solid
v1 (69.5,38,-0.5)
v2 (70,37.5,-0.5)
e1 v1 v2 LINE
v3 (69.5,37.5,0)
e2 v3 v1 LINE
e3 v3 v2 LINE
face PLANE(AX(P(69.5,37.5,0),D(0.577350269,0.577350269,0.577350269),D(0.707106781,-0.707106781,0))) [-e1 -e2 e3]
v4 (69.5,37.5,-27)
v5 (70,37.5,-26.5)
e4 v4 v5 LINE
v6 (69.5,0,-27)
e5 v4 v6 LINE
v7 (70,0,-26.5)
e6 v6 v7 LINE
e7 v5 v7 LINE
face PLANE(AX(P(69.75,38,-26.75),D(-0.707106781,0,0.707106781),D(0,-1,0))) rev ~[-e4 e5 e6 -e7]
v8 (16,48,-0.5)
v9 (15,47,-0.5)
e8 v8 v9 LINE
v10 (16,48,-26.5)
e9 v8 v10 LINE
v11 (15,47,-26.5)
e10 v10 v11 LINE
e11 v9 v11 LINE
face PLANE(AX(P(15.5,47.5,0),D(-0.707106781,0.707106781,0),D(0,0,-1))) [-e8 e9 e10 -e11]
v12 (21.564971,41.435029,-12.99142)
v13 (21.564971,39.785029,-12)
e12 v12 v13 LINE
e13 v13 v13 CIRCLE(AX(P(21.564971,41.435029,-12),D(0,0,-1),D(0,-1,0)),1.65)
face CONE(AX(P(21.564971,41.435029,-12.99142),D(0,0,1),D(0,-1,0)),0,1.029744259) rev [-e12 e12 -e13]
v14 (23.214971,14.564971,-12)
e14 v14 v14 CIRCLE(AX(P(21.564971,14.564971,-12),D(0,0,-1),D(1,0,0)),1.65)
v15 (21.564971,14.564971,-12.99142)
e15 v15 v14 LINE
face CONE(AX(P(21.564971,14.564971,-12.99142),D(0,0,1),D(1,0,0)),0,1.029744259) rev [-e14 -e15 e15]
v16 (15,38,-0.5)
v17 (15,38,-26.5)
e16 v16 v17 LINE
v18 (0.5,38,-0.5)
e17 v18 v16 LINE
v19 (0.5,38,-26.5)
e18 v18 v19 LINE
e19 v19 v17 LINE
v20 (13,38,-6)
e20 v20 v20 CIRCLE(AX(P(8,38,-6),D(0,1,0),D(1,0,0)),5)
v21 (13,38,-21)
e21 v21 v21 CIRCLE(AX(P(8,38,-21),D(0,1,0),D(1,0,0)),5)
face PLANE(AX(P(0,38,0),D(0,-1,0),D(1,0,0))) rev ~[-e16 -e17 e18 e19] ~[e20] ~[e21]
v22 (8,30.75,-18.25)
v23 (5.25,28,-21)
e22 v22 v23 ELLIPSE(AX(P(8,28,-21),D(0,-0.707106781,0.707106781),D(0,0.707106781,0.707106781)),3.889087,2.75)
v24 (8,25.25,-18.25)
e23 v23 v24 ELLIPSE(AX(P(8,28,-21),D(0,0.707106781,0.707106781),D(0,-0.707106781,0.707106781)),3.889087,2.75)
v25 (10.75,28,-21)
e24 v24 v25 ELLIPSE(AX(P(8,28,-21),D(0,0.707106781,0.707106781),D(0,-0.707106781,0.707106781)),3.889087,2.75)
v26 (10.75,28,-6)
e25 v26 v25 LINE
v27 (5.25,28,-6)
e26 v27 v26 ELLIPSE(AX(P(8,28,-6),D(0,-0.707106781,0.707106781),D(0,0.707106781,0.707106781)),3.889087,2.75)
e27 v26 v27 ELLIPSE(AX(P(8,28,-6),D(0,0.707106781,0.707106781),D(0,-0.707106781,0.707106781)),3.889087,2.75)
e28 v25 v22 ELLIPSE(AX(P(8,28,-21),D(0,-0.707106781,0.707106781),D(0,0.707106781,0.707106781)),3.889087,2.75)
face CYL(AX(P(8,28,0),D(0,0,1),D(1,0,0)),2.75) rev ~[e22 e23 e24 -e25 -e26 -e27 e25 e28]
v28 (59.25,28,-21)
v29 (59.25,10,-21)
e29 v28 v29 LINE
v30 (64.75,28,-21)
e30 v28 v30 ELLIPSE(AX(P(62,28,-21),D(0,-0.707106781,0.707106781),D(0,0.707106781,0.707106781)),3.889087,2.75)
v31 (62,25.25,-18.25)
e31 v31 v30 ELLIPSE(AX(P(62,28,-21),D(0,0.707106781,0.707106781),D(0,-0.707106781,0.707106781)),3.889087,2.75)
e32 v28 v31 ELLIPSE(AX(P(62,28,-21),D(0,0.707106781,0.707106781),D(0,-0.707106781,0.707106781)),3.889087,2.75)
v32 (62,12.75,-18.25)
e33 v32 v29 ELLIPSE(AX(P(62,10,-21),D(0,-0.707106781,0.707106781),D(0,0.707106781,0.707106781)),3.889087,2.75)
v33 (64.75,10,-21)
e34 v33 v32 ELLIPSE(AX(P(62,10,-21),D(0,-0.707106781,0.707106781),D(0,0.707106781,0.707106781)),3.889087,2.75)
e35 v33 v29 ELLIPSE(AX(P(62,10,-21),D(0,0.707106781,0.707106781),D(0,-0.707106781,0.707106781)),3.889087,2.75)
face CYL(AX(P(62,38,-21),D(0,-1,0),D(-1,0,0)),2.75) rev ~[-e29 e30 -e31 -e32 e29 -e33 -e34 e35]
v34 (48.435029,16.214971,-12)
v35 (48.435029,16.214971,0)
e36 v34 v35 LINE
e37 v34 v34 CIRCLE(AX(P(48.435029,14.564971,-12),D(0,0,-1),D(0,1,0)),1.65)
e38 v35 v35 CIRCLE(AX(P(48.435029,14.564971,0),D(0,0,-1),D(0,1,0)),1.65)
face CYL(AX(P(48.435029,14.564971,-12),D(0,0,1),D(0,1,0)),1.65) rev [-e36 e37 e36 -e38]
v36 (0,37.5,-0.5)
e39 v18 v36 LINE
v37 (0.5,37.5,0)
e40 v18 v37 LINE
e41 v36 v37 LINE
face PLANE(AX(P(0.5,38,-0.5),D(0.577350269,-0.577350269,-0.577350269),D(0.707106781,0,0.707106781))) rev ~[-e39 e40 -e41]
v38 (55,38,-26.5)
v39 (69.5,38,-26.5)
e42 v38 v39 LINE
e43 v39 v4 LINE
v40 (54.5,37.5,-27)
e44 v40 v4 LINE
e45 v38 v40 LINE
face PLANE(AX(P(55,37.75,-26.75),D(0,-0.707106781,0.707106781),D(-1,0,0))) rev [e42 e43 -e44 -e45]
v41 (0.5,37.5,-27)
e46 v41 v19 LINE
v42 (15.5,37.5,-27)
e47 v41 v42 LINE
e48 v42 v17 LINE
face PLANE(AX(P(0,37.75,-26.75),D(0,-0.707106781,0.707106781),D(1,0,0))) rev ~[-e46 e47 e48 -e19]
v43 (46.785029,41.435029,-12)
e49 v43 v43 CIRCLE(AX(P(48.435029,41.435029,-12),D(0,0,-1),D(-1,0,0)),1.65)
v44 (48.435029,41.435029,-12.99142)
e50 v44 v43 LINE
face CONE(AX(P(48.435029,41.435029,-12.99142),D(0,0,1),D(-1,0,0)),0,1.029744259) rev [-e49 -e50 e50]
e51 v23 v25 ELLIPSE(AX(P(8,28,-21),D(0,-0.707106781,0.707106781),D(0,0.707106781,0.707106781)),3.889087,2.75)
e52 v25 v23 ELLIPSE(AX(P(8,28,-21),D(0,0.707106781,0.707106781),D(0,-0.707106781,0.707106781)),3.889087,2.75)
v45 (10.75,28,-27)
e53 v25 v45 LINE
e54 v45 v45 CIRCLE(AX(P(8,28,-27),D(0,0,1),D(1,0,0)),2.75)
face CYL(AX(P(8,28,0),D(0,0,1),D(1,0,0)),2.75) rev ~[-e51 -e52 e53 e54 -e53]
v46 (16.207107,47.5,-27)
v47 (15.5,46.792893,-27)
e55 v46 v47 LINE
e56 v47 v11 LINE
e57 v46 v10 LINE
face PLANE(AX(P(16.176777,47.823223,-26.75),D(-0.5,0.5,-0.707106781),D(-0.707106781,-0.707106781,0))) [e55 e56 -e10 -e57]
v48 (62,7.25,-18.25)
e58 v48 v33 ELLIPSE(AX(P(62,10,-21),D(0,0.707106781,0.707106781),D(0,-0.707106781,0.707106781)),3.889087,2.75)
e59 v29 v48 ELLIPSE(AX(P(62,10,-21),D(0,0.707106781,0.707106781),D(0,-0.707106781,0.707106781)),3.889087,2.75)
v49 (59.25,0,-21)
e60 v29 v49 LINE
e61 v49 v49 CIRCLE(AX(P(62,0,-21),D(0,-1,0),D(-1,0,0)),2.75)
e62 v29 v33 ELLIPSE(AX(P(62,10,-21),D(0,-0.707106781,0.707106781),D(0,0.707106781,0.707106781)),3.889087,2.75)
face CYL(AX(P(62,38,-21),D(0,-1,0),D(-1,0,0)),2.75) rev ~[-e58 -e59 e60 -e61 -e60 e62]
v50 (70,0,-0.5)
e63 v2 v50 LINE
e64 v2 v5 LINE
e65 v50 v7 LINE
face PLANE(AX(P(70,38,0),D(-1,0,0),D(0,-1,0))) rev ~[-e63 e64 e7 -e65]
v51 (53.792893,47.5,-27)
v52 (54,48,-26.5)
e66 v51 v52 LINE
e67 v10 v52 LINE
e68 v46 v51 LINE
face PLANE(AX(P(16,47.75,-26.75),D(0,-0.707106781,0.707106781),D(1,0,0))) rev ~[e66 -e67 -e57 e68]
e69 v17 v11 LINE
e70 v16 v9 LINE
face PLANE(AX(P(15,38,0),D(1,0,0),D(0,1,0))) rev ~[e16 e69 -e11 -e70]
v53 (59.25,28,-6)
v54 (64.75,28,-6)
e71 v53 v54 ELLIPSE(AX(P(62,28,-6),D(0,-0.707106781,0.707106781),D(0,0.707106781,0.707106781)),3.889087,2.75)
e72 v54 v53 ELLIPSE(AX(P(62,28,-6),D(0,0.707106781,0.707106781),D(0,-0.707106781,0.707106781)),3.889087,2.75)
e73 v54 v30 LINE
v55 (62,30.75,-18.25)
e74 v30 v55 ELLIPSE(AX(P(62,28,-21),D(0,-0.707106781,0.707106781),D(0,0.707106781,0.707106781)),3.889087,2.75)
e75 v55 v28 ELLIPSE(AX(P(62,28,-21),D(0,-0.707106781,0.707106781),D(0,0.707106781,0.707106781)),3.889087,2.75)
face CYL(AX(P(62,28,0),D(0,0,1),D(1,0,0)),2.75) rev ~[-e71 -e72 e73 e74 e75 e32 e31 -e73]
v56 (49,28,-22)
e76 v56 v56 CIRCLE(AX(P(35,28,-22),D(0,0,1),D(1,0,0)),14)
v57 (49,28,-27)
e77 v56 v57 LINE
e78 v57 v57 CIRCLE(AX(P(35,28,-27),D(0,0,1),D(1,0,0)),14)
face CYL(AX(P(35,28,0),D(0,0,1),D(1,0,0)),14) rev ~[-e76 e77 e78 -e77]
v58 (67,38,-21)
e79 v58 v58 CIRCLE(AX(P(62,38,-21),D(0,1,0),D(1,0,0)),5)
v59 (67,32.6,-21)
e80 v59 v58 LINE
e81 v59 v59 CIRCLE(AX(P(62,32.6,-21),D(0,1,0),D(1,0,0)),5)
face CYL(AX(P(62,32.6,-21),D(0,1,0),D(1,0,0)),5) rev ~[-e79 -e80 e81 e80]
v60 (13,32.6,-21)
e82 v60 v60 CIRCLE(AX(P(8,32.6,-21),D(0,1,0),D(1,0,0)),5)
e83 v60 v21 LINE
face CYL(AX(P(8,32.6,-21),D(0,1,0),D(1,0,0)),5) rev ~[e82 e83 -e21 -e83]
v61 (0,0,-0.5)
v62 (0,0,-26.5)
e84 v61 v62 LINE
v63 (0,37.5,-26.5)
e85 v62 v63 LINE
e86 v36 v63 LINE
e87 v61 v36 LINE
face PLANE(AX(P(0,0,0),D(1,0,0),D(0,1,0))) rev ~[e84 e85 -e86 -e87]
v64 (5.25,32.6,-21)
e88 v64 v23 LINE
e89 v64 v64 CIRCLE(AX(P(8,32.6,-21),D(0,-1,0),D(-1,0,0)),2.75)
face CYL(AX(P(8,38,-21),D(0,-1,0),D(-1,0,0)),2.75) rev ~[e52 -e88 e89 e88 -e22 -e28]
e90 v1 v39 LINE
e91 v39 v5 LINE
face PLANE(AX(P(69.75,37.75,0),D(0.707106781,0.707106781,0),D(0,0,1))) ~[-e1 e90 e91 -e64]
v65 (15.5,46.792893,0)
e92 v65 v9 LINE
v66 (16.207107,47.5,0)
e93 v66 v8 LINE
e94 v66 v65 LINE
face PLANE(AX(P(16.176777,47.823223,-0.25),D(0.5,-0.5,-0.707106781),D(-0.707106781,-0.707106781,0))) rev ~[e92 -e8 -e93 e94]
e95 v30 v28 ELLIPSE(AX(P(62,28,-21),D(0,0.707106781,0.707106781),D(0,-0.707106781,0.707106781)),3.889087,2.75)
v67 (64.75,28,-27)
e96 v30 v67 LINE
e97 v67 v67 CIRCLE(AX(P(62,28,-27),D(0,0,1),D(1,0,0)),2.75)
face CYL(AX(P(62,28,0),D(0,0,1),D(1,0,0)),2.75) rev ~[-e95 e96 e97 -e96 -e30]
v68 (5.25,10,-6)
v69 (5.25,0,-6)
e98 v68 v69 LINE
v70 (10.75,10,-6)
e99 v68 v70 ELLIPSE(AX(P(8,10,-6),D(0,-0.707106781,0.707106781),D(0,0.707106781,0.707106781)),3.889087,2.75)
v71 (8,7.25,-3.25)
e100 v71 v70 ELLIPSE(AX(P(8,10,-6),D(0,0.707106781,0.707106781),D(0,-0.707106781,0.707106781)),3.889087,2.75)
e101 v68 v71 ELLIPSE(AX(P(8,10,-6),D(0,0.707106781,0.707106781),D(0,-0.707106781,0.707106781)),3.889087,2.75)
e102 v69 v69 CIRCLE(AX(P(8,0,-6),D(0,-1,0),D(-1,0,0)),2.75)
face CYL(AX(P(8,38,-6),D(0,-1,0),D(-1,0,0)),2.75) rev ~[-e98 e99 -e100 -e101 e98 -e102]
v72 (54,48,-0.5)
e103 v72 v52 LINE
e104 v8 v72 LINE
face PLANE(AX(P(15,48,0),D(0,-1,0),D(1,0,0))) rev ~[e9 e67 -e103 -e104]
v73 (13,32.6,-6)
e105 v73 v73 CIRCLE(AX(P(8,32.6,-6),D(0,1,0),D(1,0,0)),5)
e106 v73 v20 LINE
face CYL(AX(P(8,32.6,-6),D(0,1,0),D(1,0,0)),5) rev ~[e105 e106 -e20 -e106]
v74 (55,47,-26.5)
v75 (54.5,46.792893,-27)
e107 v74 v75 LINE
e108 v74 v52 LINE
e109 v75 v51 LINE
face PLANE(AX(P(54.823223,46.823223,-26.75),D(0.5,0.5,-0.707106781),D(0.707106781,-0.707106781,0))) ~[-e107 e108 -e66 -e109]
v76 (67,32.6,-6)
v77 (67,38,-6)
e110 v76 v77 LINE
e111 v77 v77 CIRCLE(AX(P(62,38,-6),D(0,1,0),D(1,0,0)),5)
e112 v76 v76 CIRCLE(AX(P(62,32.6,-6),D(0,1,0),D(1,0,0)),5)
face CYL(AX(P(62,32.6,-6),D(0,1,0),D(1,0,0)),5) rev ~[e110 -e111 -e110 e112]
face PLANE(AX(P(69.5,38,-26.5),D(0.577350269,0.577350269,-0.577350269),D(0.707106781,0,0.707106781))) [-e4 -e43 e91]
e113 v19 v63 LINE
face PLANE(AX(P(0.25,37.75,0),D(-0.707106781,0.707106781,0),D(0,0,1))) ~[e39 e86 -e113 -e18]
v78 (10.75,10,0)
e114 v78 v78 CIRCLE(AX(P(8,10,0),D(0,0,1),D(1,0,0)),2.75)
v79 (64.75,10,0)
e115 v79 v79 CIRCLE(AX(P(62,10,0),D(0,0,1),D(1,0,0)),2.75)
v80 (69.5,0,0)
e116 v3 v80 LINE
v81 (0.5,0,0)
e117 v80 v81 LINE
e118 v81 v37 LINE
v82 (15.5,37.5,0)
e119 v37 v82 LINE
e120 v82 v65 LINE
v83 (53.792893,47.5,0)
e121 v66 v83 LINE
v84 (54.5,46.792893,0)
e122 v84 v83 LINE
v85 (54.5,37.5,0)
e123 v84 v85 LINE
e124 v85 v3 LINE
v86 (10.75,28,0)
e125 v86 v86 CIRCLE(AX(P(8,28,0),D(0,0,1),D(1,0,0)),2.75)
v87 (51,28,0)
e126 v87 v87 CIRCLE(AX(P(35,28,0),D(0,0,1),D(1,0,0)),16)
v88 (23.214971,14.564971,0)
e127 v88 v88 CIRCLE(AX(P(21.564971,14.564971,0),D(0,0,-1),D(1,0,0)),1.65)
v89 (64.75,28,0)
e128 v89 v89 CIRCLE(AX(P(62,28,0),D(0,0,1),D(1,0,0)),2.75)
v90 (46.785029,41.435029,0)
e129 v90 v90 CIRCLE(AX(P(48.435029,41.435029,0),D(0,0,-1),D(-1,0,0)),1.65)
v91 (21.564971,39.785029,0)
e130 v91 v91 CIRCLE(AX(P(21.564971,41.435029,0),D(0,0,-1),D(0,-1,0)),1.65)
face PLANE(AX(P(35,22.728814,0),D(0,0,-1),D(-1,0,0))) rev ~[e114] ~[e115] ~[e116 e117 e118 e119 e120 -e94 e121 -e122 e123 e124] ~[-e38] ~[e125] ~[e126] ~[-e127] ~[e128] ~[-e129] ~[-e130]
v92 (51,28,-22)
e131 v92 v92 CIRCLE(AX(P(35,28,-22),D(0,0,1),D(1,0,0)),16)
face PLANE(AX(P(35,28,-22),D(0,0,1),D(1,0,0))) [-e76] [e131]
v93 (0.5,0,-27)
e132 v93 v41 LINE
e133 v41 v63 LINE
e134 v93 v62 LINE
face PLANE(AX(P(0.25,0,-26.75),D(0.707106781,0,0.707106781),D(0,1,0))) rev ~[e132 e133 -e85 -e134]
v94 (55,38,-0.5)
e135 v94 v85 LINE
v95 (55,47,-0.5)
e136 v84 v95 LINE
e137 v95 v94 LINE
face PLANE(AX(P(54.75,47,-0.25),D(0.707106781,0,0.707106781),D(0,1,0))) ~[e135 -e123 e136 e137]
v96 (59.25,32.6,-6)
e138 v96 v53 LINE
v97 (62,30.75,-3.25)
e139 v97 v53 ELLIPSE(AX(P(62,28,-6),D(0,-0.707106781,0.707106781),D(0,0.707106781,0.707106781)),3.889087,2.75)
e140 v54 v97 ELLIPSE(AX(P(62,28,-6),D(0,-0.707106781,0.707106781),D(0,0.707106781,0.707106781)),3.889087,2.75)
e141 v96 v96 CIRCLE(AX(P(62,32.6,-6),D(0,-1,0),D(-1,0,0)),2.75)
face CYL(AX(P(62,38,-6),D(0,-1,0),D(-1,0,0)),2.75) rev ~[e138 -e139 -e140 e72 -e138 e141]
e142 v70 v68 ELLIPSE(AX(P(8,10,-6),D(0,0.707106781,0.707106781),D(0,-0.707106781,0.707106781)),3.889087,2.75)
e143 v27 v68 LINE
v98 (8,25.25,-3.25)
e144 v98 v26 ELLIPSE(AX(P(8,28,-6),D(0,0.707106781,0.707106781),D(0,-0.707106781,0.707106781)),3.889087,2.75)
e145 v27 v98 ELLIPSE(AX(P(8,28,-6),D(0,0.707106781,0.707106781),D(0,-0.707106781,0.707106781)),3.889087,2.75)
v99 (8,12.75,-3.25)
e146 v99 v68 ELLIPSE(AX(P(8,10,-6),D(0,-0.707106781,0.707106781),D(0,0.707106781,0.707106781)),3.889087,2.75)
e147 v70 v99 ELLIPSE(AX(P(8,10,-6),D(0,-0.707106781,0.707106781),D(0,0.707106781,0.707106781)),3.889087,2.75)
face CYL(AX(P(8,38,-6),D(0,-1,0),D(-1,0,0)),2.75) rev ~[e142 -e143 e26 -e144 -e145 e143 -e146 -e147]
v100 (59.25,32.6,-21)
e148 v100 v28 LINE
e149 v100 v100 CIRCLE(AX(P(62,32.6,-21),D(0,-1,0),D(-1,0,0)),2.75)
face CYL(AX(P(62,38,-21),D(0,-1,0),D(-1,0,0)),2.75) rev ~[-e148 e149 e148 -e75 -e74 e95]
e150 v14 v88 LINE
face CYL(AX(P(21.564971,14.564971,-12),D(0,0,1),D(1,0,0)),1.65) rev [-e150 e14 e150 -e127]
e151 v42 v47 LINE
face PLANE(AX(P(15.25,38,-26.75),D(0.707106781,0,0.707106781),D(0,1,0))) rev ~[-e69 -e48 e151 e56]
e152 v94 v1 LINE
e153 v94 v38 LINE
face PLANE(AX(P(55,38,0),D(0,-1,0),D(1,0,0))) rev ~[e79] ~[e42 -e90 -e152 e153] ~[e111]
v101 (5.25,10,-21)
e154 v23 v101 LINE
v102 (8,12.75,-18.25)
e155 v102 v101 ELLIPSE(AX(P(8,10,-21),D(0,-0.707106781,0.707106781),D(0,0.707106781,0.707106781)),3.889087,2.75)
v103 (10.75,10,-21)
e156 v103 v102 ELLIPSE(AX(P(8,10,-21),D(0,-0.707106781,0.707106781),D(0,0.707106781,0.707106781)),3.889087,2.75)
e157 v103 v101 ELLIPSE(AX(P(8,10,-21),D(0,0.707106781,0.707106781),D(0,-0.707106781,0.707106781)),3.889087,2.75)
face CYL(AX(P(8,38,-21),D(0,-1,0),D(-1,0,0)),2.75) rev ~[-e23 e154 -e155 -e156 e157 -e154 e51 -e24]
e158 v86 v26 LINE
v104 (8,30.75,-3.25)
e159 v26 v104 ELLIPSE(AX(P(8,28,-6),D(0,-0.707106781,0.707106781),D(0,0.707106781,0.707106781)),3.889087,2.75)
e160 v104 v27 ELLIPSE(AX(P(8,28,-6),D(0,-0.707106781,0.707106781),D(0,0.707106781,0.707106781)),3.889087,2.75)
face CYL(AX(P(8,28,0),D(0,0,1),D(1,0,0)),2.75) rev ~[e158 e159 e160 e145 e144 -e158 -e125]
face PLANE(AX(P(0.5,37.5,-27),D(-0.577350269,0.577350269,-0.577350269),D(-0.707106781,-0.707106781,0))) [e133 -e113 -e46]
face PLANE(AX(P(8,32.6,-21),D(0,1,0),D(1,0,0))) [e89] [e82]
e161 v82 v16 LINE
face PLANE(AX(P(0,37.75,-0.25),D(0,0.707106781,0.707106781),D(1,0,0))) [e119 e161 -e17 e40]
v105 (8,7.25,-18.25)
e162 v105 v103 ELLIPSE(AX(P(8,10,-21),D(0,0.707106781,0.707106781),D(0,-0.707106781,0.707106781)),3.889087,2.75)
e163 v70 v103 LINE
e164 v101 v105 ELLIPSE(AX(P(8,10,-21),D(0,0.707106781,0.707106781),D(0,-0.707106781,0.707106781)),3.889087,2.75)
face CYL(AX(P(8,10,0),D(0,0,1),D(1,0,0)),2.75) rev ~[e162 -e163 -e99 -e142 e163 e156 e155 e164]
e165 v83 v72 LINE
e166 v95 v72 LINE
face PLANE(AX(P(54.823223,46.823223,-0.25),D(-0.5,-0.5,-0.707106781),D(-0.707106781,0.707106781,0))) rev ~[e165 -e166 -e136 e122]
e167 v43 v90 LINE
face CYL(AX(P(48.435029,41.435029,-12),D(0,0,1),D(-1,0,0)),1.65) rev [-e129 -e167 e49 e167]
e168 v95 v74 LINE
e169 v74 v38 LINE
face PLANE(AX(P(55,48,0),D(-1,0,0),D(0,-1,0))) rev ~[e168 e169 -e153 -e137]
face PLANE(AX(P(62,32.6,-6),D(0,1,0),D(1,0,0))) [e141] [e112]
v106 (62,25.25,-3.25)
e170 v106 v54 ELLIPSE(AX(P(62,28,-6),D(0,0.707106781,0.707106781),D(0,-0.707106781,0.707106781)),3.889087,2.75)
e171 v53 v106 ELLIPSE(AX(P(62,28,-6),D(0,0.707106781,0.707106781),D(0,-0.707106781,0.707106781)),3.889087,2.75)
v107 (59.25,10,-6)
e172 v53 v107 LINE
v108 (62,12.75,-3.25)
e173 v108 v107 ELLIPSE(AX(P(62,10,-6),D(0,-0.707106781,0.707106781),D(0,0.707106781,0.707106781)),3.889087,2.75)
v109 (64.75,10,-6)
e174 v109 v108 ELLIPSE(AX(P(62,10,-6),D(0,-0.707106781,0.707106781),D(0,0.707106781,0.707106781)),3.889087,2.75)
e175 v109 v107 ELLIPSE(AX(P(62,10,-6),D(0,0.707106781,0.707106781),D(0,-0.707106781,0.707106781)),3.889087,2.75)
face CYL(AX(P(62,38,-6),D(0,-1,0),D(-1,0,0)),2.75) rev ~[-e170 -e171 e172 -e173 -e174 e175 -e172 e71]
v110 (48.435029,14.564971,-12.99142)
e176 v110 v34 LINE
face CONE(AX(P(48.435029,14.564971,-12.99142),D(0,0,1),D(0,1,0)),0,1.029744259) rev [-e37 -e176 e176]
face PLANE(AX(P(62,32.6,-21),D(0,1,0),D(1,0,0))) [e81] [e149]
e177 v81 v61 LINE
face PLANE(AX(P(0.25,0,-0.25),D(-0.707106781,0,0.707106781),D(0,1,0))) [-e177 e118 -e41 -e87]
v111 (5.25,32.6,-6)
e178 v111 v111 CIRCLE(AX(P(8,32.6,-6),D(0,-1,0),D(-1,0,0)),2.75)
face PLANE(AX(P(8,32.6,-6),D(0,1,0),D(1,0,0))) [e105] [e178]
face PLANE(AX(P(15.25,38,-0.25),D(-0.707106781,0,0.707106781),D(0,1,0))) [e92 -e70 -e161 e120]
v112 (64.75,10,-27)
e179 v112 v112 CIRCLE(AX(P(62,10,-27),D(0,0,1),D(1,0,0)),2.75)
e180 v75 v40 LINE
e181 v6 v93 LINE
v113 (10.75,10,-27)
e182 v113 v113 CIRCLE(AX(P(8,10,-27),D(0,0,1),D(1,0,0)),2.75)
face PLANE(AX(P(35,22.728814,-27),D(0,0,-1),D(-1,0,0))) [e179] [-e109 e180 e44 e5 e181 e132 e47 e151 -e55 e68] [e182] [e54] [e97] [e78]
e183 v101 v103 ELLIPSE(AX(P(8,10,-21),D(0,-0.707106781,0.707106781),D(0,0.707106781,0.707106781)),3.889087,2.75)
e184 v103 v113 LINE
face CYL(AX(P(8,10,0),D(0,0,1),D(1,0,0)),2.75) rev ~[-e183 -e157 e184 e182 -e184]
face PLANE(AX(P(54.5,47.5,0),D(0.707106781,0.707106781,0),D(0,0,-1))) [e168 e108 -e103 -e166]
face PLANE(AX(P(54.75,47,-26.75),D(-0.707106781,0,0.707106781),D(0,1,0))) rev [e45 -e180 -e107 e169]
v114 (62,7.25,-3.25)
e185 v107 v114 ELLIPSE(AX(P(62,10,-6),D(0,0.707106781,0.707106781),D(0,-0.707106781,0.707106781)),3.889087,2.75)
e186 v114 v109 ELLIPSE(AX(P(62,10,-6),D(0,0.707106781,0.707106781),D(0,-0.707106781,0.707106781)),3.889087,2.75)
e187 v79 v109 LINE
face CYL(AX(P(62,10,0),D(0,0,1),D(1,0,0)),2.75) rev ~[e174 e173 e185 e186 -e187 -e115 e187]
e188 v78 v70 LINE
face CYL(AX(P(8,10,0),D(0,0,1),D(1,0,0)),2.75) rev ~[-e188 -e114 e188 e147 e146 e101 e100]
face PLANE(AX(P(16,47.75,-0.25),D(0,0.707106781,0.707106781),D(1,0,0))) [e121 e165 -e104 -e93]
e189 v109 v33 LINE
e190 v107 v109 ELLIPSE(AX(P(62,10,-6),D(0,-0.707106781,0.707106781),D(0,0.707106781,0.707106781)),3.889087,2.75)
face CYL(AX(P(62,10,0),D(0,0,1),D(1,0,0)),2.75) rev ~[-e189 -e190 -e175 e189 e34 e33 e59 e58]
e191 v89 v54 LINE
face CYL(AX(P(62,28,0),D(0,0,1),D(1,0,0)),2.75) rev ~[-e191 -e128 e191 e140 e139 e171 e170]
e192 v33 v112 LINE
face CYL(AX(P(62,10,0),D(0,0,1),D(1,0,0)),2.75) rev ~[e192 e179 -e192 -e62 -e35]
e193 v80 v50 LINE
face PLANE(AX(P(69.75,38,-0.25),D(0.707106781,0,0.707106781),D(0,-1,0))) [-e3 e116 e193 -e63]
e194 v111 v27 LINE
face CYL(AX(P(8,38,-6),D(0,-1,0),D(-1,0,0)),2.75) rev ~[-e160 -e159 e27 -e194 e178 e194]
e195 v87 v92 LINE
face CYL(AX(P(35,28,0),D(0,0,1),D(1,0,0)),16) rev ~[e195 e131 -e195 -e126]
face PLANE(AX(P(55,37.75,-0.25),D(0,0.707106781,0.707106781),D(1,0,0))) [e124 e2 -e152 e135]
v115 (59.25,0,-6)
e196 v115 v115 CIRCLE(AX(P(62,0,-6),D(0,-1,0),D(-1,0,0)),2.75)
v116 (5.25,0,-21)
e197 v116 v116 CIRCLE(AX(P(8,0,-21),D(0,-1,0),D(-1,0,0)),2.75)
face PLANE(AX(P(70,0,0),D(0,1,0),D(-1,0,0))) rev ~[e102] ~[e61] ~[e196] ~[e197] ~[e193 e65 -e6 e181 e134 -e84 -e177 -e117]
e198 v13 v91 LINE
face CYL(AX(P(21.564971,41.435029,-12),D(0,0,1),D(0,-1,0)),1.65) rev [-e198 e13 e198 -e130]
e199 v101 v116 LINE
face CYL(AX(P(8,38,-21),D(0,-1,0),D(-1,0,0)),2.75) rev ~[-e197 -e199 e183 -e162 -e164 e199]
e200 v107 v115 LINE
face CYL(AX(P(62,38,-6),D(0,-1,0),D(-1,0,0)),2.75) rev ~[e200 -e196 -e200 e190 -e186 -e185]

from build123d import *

# Parameters (mm, degrees)
SKETCH_1_R                   = 14
SKETCH_1_R_2                 = 2.75
EXTRUDE_1_DEPTH              = 27
CHAMFER_2_SIZE               = 1
HOLE_WIZARD_M5_4_D           = 5.5
HOLE_WIZARD_M5_4_CBORE_D     = 10
HOLE_WIZARD_M5_4_CBORE_DEPTH = 5.4
PATTERN_CIRCULAR_1_COUNT     = 4
SKETCH_15_R                  = 16
SKETCH_15_R_2                = 14
CUT_EXTRUDE_1_DEPTH          = 22
CHAMFER_3_SIZE               = 0.5


with BuildPart() as part:
    # 草圖1 → 填料-伸長1 (new body)
    with BuildSketch(Plane.XY):
        Polygon((55, 38), (70, 38), (70, 0), (0, 0), (0, 38), (15, 38), (15, 48), (55, 48), align=None)
        with Locations((35, 28)):
            Circle(SKETCH_1_R, mode=Mode.SUBTRACT)
        with Locations((8, 28)):
            Circle(SKETCH_1_R_2, mode=Mode.SUBTRACT)
        with Locations((62, 28)):
            Circle(SKETCH_1_R_2, mode=Mode.SUBTRACT)
        with Locations((8, 10)):
            Circle(SKETCH_1_R_2, mode=Mode.SUBTRACT)
        with Locations((62, 10)):
            Circle(SKETCH_1_R_2, mode=Mode.SUBTRACT)
    extrude(amount=-EXTRUDE_1_DEPTH)

    # 導角2
    chamfer_2_edges = [part.edges().sort_by_distance(p)[0] for p in [
        (15, 48, -13.5),
        (55, 48, -13.5),
    ]]
    chamfer(chamfer_2_edges, length=CHAMFER_2_SIZE)

    # M5 六角承窩頭蓋螺釘的柱孔4 (through all)
    with Locations(Plane(origin=(0, 38, 0), x_dir=(1, 0, 0), z_dir=(0, 1, 0))):
        with Locations((8, 21), (8, 6), (62, 21), (62, 6)):
            CounterBoreHole(HOLE_WIZARD_M5_4_D / 2, HOLE_WIZARD_M5_4_CBORE_D / 2, HOLE_WIZARD_M5_4_CBORE_DEPTH)

    # 草圖14 → M4 螺紋孔1 (revolve, cut)
    with BuildSketch(Plane(origin=(21.564971157, 41.435028843, 0), x_dir=(0, -1, 0), z_dir=(1, 0, 0))):
        Polygon((0, 0), (0, 12.991420021), (1.65, 12), (1.65, 0), align=None)
    hole_wizard_m4_1 = revolve(axis=Axis((21.564971157, 41.435028843, 6.35), (0, 0, -1)), mode=Mode.SUBTRACT)

    # 環狀複製排列1: M4 螺紋孔1 ×4 about axis
    pattern_circular_1_axis = Axis((35, 28, 0), (0, 0, 1))
    for i in range(1, PATTERN_CIRCULAR_1_COUNT):
        add(hole_wizard_m4_1.rotate(pattern_circular_1_axis, i * 360 / PATTERN_CIRCULAR_1_COUNT), mode=Mode.SUBTRACT)

    # 草圖15 → 除料-伸長1 (cut)
    with BuildSketch(Plane.XY):
        with Locations((35, 28)):
            Circle(SKETCH_15_R)
        with Locations((35, 28)):
            Circle(SKETCH_15_R_2, mode=Mode.SUBTRACT)
    extrude(amount=-CUT_EXTRUDE_1_DEPTH, mode=Mode.SUBTRACT)

    # 導角3
    chamfer_3_edges = [part.edges().sort_by_distance(p)[0] for p in [
        (70, 19, -27),
        (0, 19, 0),
        (62.5, 38, -27),
        (0, 38, -13.5),
        (70, 38, -13.5),
        (55, 42.5, -27),
        (7.5, 38, -27),
        (0, 19, -27),
        (35, 48, 0),
        (35, 48, -27),
        (15, 42.5, 0),
        (54.5, 47.5, 0),
        (15.5, 47.5, 0),
        (15, 42.5, -27),
        (54.5, 47.5, -27),
        (15.5, 47.5, -27),
        (7.5, 38, 0),
        (55, 42.5, 0),
        (62.5, 38, 0),
        (70, 19, 0),
    ]]
    chamfer(chamfer_3_edges, length=CHAMFER_3_SIZE)


solid = part.part
